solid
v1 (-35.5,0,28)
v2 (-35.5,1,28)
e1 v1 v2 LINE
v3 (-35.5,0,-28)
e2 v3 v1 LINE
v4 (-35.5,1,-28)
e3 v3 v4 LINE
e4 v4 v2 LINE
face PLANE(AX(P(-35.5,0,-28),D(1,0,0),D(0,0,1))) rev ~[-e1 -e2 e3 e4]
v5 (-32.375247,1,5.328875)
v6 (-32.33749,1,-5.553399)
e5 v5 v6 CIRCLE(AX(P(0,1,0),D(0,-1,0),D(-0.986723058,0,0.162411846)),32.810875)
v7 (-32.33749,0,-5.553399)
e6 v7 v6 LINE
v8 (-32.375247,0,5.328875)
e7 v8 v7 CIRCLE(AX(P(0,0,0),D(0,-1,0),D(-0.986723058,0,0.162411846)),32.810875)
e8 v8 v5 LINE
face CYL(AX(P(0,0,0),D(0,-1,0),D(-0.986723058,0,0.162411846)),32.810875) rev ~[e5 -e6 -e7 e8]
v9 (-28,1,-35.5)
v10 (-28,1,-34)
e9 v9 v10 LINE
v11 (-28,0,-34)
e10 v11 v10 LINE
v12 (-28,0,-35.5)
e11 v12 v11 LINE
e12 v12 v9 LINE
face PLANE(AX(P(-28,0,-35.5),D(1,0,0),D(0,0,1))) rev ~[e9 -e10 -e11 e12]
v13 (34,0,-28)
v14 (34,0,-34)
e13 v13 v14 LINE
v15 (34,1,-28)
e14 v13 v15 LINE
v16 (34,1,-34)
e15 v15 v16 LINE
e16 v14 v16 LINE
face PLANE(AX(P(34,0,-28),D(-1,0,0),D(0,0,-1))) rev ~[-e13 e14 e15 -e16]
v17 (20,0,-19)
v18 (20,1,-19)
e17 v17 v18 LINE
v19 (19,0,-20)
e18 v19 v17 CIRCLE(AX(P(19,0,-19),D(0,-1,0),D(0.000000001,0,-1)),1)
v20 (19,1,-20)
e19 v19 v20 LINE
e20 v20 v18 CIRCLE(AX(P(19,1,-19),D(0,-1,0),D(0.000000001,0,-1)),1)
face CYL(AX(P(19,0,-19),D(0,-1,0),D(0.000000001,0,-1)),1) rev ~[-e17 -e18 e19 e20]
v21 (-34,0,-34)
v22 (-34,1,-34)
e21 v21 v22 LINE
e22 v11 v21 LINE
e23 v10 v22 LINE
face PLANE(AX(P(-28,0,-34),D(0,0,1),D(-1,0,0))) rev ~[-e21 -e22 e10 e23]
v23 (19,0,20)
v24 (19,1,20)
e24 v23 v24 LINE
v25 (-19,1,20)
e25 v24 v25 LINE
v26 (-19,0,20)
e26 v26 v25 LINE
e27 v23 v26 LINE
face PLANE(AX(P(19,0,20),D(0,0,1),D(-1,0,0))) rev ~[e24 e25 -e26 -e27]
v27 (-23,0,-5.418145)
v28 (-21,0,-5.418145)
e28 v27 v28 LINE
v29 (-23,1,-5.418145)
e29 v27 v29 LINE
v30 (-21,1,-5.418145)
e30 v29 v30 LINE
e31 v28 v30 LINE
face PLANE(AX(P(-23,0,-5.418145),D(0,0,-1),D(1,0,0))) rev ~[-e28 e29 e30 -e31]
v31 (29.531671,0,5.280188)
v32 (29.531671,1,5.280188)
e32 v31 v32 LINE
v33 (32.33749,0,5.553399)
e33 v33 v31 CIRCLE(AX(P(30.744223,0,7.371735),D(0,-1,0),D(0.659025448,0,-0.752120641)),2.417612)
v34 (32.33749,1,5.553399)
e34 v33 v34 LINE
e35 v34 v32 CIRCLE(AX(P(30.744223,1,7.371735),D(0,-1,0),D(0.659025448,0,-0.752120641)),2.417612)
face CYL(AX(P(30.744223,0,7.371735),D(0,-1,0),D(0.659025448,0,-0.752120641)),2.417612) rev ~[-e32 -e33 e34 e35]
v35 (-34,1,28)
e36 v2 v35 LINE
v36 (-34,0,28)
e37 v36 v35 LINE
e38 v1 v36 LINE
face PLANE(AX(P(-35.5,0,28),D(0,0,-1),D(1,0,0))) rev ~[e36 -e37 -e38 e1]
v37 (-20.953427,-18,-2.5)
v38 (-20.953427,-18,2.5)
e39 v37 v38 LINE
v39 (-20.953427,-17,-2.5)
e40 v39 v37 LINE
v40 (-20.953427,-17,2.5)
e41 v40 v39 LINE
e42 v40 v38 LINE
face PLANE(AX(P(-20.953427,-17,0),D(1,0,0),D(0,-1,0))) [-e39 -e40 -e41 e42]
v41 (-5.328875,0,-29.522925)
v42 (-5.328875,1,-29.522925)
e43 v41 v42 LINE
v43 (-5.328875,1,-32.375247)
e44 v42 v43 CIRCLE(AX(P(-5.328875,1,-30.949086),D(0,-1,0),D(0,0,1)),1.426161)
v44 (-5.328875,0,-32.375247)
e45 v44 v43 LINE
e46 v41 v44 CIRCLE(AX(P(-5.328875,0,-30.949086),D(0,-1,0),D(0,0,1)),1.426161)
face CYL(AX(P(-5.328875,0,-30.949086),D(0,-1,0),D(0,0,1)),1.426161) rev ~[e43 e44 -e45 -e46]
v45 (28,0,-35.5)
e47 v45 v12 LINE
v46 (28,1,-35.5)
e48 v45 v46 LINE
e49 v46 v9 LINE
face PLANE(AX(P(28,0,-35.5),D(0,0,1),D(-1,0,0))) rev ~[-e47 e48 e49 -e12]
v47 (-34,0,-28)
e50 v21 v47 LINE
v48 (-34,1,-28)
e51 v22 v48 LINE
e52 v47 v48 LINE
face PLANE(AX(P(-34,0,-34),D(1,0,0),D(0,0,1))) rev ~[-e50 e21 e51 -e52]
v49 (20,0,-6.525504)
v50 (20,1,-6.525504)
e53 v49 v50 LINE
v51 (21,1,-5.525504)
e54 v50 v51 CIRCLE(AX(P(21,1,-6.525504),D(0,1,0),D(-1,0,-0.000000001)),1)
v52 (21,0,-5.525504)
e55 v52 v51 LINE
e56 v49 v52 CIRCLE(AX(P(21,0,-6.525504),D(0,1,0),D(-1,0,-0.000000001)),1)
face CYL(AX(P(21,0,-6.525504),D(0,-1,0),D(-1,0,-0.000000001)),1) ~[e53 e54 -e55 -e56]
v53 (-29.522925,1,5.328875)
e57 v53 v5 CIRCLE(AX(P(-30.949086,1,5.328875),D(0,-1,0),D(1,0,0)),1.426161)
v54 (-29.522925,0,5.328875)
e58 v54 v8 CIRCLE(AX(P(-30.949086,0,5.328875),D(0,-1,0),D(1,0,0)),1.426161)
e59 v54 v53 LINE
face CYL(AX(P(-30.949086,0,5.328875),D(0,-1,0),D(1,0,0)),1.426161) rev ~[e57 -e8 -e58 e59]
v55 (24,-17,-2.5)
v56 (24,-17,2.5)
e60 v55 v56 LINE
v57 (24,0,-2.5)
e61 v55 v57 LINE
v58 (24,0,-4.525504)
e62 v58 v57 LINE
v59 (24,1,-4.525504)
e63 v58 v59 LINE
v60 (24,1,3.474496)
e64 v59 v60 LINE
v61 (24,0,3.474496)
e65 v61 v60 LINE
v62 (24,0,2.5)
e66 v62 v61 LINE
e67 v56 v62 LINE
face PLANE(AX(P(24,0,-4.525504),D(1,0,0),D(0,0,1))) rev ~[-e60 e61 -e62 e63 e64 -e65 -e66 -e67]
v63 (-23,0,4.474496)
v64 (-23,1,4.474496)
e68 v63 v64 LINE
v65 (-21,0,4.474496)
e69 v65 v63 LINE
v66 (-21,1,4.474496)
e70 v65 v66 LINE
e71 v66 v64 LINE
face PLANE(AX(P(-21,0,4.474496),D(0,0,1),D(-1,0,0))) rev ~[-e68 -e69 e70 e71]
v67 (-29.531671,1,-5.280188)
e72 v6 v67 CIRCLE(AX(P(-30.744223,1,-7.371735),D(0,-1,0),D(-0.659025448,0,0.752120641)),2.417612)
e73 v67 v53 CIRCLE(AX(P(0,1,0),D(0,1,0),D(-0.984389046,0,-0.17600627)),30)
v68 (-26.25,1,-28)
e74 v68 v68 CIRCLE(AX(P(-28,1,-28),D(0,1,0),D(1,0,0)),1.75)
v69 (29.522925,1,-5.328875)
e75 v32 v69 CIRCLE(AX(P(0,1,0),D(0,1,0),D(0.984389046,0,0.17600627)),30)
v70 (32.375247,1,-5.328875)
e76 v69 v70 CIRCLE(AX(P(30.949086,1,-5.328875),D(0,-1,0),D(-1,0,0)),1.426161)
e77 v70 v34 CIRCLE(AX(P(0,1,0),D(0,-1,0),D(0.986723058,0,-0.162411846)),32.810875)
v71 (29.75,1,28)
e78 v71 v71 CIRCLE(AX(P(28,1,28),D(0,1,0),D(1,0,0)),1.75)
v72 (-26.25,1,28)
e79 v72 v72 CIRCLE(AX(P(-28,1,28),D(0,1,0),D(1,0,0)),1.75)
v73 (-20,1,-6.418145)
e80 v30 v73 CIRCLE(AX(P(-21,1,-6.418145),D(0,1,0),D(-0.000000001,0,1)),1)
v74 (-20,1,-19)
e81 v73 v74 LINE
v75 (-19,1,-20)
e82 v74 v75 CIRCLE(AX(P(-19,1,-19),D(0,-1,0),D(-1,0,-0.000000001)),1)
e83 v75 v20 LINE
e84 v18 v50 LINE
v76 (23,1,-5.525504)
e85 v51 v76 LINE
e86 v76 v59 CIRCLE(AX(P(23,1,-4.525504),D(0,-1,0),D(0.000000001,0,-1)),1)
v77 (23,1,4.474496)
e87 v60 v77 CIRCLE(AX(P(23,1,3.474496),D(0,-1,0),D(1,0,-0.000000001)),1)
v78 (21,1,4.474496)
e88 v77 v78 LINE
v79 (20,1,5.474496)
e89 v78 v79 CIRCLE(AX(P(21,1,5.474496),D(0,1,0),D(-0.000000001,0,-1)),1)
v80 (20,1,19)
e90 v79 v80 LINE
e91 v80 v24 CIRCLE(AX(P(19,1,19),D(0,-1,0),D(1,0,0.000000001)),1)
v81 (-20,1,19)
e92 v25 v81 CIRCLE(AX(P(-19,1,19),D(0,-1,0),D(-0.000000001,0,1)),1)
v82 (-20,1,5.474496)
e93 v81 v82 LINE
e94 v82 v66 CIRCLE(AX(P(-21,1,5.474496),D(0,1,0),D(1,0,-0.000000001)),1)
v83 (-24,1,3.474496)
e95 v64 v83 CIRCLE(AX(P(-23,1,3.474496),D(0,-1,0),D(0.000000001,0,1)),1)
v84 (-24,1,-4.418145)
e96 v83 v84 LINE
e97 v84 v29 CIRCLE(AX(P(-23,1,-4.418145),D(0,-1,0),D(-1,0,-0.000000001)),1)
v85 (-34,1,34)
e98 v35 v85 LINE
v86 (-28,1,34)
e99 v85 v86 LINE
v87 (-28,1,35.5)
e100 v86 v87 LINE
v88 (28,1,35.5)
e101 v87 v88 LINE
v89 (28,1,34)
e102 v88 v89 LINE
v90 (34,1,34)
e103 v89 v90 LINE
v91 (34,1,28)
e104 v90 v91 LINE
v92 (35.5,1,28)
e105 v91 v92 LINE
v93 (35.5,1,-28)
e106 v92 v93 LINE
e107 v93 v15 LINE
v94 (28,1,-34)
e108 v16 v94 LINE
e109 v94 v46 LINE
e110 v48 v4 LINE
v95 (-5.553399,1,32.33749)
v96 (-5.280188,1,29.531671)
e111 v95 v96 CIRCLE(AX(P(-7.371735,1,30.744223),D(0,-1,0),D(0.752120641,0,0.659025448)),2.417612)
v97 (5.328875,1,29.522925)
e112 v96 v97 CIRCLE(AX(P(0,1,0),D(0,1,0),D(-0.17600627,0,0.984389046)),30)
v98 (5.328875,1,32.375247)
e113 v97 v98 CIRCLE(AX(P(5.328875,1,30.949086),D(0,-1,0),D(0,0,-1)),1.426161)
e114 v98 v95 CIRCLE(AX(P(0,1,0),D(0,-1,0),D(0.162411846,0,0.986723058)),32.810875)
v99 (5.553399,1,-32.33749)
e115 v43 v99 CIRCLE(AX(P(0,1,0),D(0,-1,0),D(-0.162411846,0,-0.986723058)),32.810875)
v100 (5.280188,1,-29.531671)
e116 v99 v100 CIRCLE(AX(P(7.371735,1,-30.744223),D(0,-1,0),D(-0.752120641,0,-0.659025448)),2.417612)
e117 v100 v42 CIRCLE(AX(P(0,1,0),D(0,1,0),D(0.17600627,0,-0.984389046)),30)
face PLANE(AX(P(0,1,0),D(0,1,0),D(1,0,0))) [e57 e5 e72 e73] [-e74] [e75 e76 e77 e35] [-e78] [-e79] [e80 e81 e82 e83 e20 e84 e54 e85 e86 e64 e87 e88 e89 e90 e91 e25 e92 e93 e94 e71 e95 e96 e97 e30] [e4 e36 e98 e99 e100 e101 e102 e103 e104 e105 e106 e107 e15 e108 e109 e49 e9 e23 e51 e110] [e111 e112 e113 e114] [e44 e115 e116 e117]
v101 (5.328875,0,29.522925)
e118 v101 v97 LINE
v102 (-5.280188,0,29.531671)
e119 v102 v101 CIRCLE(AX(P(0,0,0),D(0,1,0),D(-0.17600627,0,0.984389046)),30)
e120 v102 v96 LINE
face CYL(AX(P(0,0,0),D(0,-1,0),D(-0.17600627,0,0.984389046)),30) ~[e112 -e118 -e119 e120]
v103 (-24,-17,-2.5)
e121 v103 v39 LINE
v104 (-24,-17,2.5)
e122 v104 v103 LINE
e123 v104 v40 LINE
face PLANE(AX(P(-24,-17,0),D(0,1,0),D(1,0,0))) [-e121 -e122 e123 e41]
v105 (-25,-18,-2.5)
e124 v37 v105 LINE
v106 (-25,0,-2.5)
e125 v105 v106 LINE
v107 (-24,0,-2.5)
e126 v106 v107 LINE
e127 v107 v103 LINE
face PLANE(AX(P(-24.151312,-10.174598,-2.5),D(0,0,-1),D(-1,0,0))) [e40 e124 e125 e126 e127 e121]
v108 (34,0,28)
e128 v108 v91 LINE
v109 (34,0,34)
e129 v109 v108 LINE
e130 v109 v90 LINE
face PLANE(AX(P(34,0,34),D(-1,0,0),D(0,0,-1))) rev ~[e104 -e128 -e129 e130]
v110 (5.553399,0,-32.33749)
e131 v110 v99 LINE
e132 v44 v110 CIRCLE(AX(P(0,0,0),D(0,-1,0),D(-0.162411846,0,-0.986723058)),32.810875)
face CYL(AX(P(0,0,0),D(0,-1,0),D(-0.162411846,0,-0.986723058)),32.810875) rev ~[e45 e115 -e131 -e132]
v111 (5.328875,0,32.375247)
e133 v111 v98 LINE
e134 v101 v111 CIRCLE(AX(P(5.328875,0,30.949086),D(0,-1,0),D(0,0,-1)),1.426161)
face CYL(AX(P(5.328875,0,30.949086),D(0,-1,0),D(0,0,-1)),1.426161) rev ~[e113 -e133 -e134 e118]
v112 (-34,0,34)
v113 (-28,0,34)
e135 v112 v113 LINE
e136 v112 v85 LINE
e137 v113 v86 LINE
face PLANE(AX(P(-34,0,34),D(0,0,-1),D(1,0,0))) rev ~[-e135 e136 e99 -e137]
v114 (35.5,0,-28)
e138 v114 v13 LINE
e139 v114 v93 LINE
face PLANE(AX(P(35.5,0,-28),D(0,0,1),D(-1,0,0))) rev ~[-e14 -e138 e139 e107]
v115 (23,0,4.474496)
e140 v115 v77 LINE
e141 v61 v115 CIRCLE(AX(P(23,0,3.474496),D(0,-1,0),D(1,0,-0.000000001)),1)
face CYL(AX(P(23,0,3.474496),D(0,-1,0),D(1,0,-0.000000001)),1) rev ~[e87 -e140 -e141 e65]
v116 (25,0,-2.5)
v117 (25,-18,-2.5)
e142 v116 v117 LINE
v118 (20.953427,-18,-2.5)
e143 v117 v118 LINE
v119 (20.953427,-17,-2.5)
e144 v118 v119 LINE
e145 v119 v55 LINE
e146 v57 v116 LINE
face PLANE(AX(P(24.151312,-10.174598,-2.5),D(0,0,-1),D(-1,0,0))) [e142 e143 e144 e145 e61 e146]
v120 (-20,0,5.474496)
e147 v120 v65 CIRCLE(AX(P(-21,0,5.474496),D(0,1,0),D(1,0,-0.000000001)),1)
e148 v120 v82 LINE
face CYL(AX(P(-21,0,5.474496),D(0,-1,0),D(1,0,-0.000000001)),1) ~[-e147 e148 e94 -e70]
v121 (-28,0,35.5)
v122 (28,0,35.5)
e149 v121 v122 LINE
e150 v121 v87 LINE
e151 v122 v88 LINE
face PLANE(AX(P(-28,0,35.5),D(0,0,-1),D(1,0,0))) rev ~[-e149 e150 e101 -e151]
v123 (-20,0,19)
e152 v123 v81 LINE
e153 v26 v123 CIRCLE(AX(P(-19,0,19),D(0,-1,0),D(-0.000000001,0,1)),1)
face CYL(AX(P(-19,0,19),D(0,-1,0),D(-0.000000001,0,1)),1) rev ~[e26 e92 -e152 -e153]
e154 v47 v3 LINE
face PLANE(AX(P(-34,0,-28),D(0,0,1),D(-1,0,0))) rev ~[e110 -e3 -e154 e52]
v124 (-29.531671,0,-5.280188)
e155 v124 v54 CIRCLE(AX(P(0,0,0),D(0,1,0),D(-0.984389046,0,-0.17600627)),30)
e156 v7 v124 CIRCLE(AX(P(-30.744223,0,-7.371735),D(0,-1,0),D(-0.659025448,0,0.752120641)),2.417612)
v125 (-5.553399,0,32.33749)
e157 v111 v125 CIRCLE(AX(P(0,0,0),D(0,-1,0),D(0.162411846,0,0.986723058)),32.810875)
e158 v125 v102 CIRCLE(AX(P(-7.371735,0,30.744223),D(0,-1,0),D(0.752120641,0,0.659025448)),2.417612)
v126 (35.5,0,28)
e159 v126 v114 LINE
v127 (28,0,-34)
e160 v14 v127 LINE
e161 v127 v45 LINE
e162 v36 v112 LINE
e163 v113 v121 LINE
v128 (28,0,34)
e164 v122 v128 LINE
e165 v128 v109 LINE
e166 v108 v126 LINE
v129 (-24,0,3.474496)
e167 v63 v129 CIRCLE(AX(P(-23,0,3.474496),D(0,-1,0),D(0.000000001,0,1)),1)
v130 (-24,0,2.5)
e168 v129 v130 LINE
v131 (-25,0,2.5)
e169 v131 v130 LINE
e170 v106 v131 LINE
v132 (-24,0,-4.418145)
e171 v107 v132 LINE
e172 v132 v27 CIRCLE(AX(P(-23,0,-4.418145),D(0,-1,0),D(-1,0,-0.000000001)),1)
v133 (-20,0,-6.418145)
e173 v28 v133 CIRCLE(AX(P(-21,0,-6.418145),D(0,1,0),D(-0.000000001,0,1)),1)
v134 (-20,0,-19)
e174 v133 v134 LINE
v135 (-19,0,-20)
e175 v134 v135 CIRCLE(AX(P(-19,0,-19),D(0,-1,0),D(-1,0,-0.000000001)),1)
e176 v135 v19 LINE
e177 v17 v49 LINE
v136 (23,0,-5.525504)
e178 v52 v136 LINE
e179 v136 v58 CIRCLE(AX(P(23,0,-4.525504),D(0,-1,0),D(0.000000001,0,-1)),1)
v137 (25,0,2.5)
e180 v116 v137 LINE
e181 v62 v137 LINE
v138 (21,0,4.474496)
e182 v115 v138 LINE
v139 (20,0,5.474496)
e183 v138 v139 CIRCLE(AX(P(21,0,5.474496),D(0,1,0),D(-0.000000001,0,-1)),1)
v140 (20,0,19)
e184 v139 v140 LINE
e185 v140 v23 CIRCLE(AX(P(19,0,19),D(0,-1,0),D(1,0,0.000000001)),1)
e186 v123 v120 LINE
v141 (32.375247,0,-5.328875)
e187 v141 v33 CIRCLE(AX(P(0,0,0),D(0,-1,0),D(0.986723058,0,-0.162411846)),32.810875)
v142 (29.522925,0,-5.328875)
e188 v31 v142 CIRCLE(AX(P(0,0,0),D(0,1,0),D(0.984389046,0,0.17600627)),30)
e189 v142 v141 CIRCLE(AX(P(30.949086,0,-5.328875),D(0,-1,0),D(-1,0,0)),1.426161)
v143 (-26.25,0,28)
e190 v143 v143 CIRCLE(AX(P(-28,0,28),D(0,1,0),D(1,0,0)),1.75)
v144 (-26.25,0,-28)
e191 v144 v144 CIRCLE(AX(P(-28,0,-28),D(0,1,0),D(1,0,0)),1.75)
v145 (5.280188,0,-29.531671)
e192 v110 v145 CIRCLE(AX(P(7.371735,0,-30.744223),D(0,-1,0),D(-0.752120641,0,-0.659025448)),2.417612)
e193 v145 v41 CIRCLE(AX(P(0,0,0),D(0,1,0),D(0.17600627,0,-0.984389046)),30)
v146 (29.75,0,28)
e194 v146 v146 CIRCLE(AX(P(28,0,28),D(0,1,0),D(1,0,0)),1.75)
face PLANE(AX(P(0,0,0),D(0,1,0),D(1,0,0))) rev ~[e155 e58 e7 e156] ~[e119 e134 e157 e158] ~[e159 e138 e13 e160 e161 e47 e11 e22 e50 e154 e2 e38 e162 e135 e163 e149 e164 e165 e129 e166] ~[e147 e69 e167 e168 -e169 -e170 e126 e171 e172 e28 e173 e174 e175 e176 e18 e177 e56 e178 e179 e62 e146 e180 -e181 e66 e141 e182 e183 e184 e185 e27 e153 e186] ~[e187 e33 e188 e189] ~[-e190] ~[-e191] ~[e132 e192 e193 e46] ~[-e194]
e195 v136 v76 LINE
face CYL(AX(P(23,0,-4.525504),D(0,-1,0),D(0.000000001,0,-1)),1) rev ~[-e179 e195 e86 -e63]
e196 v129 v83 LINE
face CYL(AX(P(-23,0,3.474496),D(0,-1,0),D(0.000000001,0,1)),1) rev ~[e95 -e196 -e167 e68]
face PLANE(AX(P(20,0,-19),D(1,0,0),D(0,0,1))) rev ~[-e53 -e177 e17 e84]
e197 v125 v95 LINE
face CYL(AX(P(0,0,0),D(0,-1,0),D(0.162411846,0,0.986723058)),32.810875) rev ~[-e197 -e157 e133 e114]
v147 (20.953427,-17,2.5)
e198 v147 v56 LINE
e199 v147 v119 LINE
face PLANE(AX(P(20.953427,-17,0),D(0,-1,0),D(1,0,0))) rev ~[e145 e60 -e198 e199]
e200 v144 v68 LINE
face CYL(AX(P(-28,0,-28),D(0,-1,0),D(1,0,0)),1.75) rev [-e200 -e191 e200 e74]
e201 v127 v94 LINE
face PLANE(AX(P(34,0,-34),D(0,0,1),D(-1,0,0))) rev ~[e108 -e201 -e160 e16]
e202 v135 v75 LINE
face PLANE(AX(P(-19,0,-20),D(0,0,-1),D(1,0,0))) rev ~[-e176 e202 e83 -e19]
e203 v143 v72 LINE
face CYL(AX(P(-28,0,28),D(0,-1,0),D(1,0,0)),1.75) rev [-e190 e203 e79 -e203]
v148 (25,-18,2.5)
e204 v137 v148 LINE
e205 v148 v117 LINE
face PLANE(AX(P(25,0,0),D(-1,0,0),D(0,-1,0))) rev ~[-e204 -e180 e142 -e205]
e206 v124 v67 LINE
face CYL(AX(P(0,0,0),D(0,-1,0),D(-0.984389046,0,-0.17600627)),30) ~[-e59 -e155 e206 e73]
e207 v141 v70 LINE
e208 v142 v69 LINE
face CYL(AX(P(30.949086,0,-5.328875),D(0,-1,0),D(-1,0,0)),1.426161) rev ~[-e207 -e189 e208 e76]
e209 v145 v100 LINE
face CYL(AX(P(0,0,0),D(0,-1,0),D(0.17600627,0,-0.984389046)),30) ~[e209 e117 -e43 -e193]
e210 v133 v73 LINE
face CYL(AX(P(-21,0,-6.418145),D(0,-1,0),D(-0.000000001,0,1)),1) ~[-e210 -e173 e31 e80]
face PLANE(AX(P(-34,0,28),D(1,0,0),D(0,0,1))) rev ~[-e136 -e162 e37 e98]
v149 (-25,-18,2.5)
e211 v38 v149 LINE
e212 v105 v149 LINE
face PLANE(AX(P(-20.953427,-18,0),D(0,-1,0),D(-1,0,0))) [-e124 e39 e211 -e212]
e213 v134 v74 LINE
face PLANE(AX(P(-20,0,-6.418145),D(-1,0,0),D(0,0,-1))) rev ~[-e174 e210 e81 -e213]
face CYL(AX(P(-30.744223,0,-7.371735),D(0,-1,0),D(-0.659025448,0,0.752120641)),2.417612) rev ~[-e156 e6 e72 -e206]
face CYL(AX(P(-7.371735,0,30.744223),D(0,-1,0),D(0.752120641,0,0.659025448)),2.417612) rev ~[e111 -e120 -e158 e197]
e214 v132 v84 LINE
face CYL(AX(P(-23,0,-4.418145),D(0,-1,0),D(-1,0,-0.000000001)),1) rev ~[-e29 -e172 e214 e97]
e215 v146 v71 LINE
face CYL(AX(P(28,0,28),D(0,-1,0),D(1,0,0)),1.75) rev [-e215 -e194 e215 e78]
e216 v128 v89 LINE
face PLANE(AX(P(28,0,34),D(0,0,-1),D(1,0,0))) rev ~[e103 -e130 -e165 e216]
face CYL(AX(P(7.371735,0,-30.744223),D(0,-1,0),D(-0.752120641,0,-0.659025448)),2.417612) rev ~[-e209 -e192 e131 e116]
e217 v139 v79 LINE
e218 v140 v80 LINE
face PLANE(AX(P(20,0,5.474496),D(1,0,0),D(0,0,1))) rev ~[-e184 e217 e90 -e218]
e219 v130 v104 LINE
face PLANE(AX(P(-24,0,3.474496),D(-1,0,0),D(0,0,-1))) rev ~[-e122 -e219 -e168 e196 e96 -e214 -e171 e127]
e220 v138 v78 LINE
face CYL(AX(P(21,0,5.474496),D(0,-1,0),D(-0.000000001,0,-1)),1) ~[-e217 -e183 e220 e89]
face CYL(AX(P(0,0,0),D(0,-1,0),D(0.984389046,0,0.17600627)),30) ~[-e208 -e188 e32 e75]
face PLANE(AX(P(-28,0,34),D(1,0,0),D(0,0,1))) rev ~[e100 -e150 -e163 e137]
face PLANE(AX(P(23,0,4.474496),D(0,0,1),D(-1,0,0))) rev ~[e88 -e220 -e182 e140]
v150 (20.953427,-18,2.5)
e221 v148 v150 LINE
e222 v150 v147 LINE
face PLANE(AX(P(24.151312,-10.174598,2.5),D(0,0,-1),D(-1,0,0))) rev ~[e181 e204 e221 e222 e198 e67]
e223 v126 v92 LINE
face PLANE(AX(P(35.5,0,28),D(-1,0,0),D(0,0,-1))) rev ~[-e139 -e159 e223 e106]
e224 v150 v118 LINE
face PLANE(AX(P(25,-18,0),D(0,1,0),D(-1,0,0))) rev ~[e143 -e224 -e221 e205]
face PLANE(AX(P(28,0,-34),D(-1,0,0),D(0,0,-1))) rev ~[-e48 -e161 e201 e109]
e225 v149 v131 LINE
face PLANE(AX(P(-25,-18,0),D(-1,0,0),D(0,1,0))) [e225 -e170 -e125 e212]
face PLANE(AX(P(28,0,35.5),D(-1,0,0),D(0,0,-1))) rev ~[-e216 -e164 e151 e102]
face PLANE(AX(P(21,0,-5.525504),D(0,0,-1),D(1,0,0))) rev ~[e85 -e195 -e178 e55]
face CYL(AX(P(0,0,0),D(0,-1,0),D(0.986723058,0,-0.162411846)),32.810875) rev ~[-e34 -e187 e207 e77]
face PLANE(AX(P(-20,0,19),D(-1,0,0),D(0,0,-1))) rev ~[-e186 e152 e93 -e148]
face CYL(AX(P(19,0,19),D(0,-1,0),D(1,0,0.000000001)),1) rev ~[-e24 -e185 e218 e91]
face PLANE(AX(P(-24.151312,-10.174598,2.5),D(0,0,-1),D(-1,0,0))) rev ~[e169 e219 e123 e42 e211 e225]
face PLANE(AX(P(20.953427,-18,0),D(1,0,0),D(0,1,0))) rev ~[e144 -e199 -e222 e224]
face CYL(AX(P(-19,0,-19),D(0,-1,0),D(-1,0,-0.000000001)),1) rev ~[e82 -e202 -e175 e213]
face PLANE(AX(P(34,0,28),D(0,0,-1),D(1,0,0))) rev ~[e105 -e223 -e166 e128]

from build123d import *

# Parameters (mm, degrees)
SKETCH_2_R      = 1.75
EXTRUDE_1_DEPTH = 1
EXTRUDE_2_DEPTH = 2.5


with BuildPart() as part:
    # Эскиз2 → Бобышка-Вытянуть1 (new body)
    with BuildSketch(Plane(origin=(0, 0, 0), x_dir=(1, 0, 0), z_dir=(0, 1, 0))):
        Polygon((-35.5, 28), (-35.5, -28), (-34, -28), (-34, -34), (-28, -34), (-28, -35.5), (28, -35.5), (28, -34), (34, -34), (34, -28), (35.5, -28), (35.5, 28), (34, 28), (34, 34), (28, 34), (28, 35.5), (-28, 35.5), (-28, 34), (-34, 34), (-34, 28), align=None)
        with Locations((28, -28)):
            Circle(SKETCH_2_R, mode=Mode.SUBTRACT)
        with Locations((-28, -28)):
            Circle(SKETCH_2_R, mode=Mode.SUBTRACT)
        with Locations((-28, 28)):
            Circle(SKETCH_2_R, mode=Mode.SUBTRACT)
        with BuildLine():
            Line((20, 19), (20, 6.525504327))
            ThreePointArc((20, 6.525504327), (20.292893219, 5.818397545), (21, 5.525504327))
            Line((21, 5.525504327), (23, 5.525504327))
            ThreePointArc((23, 5.525504327), (23.707106781, 5.232611108), (24, 4.525504327))
            Line((24, 4.525504327), (24, -3.474495673))
            ThreePointArc((24, -3.474495673), (23.707106781, -4.181602455), (23, -4.474495673))
            Line((23, -4.474495673), (21, -4.474495673))
            ThreePointArc((21, -4.474495673), (20.292893219, -4.767388892), (20, -5.474495673))
            Line((20, -5.474495673), (20, -19))
            ThreePointArc((20, -19), (19.707106781, -19.707106781), (19, -20))
            Line((19, -20), (-19, -20))
            ThreePointArc((-19, -20), (-19.707106781, -19.707106781), (-20, -19))
            Line((-20, -19), (-20, -5.474495673))
            ThreePointArc((-20, -5.474495673), (-20.292893219, -4.767388892), (-21, -4.474495673))
            Line((-21, -4.474495673), (-23, -4.474495673))
            ThreePointArc((-23, -4.474495673), (-23.707106781, -4.181602455), (-24, -3.474495673))
            Line((-24, -3.474495673), (-24, 4.418145483))
            ThreePointArc((-24, 4.418145483), (-23.707106781, 5.125252264), (-23, 5.418145483))
            Line((-23, 5.418145483), (-21, 5.418145483))
            ThreePointArc((-21, 5.418145483), (-20.292893219, 5.711038701), (-20, 6.418145483))
            Line((-20, 6.418145483), (-20, 19))
            ThreePointArc((-20, 19), (-19.707106781, 19.707106781), (-19, 20))
            Line((-19, 20), (19, 20))
            ThreePointArc((19, 20), (19.707106781, 19.707106781), (20, 19))
        make_face(mode=Mode.SUBTRACT)
        with BuildLine():
            ThreePointArc((-32.375246916, -5.328874762), (-32.81067753, 0.113838264), (-32.337490331, 5.553398796))
            ThreePointArc((-32.337490331, 5.553398796), (-30.509920838, 9.7779661), (-29.531671369, 5.280188077))
            ThreePointArc((-29.531671369, 5.280188077), (-29.999989805, -0.024733046), (-29.522924885, -5.328874762))
            ThreePointArc((-29.522924885, -5.328874762), (-30.949085901, -6.755035778), (-32.375246916, -5.328874762))
        make_face(mode=Mode.SUBTRACT)
        with BuildLine():
            ThreePointArc((5.553398796, 32.337490331), (9.7779661, 30.509920838), (5.280188077, 29.531671369))
            ThreePointArc((5.280188077, 29.531671369), (-0.024733046, 29.999989805), (-5.328874762, 29.522924885))
            ThreePointArc((-5.328874762, 29.522924885), (-6.755035778, 30.949085901), (-5.328874762, 32.375246916))
            ThreePointArc((-5.328874762, 32.375246916), (0.113838264, 32.81067753), (5.553398796, 32.337490331))
        make_face(mode=Mode.SUBTRACT)
        with BuildLine():
            ThreePointArc((32.337490331, -5.553398796), (30.509920838, -9.7779661), (29.531671369, -5.280188077))
            ThreePointArc((29.531671369, -5.280188077), (29.999989805, 0.024733046), (29.522924885, 5.328874762))
            ThreePointArc((29.522924885, 5.328874762), (30.949085901, 6.755035778), (32.375246916, 5.328874762))
            ThreePointArc((32.375246916, 5.328874762), (32.81067753, -0.113838264), (32.337490331, -5.553398796))
        make_face(mode=Mode.SUBTRACT)
        with BuildLine():
            ThreePointArc((-5.553398796, -32.337490331), (-9.7779661, -30.509920838), (-5.280188077, -29.531671369))
            ThreePointArc((-5.280188077, -29.531671369), (0.024733046, -29.999989805), (5.328874762, -29.522924885))
            ThreePointArc((5.328874762, -29.522924885), (6.755035778, -30.949085901), (5.328874762, -32.375246916))
            ThreePointArc((5.328874762, -32.375246916), (-0.113838264, -32.81067753), (-5.553398796, -32.337490331))
        make_face(mode=Mode.SUBTRACT)
    extrude(amount=EXTRUDE_1_DEPTH)

    # Эскиз3 → Бобышка-Вытянуть2 (add, symmetric)
    with BuildSketch(Plane.XY):
        Polygon((-25, 0), (-24, 0), (-24, -17), (-20.953427174, -17), (-20.953427174, -18), (-25, -18), align=None)
        Polygon((25, 0), (25, -18), (20.953427174, -18), (20.953427174, -17), (24, -17), (24, 0), align=None)
    extrude(amount=EXTRUDE_2_DEPTH, both=True)


solid = part.part
